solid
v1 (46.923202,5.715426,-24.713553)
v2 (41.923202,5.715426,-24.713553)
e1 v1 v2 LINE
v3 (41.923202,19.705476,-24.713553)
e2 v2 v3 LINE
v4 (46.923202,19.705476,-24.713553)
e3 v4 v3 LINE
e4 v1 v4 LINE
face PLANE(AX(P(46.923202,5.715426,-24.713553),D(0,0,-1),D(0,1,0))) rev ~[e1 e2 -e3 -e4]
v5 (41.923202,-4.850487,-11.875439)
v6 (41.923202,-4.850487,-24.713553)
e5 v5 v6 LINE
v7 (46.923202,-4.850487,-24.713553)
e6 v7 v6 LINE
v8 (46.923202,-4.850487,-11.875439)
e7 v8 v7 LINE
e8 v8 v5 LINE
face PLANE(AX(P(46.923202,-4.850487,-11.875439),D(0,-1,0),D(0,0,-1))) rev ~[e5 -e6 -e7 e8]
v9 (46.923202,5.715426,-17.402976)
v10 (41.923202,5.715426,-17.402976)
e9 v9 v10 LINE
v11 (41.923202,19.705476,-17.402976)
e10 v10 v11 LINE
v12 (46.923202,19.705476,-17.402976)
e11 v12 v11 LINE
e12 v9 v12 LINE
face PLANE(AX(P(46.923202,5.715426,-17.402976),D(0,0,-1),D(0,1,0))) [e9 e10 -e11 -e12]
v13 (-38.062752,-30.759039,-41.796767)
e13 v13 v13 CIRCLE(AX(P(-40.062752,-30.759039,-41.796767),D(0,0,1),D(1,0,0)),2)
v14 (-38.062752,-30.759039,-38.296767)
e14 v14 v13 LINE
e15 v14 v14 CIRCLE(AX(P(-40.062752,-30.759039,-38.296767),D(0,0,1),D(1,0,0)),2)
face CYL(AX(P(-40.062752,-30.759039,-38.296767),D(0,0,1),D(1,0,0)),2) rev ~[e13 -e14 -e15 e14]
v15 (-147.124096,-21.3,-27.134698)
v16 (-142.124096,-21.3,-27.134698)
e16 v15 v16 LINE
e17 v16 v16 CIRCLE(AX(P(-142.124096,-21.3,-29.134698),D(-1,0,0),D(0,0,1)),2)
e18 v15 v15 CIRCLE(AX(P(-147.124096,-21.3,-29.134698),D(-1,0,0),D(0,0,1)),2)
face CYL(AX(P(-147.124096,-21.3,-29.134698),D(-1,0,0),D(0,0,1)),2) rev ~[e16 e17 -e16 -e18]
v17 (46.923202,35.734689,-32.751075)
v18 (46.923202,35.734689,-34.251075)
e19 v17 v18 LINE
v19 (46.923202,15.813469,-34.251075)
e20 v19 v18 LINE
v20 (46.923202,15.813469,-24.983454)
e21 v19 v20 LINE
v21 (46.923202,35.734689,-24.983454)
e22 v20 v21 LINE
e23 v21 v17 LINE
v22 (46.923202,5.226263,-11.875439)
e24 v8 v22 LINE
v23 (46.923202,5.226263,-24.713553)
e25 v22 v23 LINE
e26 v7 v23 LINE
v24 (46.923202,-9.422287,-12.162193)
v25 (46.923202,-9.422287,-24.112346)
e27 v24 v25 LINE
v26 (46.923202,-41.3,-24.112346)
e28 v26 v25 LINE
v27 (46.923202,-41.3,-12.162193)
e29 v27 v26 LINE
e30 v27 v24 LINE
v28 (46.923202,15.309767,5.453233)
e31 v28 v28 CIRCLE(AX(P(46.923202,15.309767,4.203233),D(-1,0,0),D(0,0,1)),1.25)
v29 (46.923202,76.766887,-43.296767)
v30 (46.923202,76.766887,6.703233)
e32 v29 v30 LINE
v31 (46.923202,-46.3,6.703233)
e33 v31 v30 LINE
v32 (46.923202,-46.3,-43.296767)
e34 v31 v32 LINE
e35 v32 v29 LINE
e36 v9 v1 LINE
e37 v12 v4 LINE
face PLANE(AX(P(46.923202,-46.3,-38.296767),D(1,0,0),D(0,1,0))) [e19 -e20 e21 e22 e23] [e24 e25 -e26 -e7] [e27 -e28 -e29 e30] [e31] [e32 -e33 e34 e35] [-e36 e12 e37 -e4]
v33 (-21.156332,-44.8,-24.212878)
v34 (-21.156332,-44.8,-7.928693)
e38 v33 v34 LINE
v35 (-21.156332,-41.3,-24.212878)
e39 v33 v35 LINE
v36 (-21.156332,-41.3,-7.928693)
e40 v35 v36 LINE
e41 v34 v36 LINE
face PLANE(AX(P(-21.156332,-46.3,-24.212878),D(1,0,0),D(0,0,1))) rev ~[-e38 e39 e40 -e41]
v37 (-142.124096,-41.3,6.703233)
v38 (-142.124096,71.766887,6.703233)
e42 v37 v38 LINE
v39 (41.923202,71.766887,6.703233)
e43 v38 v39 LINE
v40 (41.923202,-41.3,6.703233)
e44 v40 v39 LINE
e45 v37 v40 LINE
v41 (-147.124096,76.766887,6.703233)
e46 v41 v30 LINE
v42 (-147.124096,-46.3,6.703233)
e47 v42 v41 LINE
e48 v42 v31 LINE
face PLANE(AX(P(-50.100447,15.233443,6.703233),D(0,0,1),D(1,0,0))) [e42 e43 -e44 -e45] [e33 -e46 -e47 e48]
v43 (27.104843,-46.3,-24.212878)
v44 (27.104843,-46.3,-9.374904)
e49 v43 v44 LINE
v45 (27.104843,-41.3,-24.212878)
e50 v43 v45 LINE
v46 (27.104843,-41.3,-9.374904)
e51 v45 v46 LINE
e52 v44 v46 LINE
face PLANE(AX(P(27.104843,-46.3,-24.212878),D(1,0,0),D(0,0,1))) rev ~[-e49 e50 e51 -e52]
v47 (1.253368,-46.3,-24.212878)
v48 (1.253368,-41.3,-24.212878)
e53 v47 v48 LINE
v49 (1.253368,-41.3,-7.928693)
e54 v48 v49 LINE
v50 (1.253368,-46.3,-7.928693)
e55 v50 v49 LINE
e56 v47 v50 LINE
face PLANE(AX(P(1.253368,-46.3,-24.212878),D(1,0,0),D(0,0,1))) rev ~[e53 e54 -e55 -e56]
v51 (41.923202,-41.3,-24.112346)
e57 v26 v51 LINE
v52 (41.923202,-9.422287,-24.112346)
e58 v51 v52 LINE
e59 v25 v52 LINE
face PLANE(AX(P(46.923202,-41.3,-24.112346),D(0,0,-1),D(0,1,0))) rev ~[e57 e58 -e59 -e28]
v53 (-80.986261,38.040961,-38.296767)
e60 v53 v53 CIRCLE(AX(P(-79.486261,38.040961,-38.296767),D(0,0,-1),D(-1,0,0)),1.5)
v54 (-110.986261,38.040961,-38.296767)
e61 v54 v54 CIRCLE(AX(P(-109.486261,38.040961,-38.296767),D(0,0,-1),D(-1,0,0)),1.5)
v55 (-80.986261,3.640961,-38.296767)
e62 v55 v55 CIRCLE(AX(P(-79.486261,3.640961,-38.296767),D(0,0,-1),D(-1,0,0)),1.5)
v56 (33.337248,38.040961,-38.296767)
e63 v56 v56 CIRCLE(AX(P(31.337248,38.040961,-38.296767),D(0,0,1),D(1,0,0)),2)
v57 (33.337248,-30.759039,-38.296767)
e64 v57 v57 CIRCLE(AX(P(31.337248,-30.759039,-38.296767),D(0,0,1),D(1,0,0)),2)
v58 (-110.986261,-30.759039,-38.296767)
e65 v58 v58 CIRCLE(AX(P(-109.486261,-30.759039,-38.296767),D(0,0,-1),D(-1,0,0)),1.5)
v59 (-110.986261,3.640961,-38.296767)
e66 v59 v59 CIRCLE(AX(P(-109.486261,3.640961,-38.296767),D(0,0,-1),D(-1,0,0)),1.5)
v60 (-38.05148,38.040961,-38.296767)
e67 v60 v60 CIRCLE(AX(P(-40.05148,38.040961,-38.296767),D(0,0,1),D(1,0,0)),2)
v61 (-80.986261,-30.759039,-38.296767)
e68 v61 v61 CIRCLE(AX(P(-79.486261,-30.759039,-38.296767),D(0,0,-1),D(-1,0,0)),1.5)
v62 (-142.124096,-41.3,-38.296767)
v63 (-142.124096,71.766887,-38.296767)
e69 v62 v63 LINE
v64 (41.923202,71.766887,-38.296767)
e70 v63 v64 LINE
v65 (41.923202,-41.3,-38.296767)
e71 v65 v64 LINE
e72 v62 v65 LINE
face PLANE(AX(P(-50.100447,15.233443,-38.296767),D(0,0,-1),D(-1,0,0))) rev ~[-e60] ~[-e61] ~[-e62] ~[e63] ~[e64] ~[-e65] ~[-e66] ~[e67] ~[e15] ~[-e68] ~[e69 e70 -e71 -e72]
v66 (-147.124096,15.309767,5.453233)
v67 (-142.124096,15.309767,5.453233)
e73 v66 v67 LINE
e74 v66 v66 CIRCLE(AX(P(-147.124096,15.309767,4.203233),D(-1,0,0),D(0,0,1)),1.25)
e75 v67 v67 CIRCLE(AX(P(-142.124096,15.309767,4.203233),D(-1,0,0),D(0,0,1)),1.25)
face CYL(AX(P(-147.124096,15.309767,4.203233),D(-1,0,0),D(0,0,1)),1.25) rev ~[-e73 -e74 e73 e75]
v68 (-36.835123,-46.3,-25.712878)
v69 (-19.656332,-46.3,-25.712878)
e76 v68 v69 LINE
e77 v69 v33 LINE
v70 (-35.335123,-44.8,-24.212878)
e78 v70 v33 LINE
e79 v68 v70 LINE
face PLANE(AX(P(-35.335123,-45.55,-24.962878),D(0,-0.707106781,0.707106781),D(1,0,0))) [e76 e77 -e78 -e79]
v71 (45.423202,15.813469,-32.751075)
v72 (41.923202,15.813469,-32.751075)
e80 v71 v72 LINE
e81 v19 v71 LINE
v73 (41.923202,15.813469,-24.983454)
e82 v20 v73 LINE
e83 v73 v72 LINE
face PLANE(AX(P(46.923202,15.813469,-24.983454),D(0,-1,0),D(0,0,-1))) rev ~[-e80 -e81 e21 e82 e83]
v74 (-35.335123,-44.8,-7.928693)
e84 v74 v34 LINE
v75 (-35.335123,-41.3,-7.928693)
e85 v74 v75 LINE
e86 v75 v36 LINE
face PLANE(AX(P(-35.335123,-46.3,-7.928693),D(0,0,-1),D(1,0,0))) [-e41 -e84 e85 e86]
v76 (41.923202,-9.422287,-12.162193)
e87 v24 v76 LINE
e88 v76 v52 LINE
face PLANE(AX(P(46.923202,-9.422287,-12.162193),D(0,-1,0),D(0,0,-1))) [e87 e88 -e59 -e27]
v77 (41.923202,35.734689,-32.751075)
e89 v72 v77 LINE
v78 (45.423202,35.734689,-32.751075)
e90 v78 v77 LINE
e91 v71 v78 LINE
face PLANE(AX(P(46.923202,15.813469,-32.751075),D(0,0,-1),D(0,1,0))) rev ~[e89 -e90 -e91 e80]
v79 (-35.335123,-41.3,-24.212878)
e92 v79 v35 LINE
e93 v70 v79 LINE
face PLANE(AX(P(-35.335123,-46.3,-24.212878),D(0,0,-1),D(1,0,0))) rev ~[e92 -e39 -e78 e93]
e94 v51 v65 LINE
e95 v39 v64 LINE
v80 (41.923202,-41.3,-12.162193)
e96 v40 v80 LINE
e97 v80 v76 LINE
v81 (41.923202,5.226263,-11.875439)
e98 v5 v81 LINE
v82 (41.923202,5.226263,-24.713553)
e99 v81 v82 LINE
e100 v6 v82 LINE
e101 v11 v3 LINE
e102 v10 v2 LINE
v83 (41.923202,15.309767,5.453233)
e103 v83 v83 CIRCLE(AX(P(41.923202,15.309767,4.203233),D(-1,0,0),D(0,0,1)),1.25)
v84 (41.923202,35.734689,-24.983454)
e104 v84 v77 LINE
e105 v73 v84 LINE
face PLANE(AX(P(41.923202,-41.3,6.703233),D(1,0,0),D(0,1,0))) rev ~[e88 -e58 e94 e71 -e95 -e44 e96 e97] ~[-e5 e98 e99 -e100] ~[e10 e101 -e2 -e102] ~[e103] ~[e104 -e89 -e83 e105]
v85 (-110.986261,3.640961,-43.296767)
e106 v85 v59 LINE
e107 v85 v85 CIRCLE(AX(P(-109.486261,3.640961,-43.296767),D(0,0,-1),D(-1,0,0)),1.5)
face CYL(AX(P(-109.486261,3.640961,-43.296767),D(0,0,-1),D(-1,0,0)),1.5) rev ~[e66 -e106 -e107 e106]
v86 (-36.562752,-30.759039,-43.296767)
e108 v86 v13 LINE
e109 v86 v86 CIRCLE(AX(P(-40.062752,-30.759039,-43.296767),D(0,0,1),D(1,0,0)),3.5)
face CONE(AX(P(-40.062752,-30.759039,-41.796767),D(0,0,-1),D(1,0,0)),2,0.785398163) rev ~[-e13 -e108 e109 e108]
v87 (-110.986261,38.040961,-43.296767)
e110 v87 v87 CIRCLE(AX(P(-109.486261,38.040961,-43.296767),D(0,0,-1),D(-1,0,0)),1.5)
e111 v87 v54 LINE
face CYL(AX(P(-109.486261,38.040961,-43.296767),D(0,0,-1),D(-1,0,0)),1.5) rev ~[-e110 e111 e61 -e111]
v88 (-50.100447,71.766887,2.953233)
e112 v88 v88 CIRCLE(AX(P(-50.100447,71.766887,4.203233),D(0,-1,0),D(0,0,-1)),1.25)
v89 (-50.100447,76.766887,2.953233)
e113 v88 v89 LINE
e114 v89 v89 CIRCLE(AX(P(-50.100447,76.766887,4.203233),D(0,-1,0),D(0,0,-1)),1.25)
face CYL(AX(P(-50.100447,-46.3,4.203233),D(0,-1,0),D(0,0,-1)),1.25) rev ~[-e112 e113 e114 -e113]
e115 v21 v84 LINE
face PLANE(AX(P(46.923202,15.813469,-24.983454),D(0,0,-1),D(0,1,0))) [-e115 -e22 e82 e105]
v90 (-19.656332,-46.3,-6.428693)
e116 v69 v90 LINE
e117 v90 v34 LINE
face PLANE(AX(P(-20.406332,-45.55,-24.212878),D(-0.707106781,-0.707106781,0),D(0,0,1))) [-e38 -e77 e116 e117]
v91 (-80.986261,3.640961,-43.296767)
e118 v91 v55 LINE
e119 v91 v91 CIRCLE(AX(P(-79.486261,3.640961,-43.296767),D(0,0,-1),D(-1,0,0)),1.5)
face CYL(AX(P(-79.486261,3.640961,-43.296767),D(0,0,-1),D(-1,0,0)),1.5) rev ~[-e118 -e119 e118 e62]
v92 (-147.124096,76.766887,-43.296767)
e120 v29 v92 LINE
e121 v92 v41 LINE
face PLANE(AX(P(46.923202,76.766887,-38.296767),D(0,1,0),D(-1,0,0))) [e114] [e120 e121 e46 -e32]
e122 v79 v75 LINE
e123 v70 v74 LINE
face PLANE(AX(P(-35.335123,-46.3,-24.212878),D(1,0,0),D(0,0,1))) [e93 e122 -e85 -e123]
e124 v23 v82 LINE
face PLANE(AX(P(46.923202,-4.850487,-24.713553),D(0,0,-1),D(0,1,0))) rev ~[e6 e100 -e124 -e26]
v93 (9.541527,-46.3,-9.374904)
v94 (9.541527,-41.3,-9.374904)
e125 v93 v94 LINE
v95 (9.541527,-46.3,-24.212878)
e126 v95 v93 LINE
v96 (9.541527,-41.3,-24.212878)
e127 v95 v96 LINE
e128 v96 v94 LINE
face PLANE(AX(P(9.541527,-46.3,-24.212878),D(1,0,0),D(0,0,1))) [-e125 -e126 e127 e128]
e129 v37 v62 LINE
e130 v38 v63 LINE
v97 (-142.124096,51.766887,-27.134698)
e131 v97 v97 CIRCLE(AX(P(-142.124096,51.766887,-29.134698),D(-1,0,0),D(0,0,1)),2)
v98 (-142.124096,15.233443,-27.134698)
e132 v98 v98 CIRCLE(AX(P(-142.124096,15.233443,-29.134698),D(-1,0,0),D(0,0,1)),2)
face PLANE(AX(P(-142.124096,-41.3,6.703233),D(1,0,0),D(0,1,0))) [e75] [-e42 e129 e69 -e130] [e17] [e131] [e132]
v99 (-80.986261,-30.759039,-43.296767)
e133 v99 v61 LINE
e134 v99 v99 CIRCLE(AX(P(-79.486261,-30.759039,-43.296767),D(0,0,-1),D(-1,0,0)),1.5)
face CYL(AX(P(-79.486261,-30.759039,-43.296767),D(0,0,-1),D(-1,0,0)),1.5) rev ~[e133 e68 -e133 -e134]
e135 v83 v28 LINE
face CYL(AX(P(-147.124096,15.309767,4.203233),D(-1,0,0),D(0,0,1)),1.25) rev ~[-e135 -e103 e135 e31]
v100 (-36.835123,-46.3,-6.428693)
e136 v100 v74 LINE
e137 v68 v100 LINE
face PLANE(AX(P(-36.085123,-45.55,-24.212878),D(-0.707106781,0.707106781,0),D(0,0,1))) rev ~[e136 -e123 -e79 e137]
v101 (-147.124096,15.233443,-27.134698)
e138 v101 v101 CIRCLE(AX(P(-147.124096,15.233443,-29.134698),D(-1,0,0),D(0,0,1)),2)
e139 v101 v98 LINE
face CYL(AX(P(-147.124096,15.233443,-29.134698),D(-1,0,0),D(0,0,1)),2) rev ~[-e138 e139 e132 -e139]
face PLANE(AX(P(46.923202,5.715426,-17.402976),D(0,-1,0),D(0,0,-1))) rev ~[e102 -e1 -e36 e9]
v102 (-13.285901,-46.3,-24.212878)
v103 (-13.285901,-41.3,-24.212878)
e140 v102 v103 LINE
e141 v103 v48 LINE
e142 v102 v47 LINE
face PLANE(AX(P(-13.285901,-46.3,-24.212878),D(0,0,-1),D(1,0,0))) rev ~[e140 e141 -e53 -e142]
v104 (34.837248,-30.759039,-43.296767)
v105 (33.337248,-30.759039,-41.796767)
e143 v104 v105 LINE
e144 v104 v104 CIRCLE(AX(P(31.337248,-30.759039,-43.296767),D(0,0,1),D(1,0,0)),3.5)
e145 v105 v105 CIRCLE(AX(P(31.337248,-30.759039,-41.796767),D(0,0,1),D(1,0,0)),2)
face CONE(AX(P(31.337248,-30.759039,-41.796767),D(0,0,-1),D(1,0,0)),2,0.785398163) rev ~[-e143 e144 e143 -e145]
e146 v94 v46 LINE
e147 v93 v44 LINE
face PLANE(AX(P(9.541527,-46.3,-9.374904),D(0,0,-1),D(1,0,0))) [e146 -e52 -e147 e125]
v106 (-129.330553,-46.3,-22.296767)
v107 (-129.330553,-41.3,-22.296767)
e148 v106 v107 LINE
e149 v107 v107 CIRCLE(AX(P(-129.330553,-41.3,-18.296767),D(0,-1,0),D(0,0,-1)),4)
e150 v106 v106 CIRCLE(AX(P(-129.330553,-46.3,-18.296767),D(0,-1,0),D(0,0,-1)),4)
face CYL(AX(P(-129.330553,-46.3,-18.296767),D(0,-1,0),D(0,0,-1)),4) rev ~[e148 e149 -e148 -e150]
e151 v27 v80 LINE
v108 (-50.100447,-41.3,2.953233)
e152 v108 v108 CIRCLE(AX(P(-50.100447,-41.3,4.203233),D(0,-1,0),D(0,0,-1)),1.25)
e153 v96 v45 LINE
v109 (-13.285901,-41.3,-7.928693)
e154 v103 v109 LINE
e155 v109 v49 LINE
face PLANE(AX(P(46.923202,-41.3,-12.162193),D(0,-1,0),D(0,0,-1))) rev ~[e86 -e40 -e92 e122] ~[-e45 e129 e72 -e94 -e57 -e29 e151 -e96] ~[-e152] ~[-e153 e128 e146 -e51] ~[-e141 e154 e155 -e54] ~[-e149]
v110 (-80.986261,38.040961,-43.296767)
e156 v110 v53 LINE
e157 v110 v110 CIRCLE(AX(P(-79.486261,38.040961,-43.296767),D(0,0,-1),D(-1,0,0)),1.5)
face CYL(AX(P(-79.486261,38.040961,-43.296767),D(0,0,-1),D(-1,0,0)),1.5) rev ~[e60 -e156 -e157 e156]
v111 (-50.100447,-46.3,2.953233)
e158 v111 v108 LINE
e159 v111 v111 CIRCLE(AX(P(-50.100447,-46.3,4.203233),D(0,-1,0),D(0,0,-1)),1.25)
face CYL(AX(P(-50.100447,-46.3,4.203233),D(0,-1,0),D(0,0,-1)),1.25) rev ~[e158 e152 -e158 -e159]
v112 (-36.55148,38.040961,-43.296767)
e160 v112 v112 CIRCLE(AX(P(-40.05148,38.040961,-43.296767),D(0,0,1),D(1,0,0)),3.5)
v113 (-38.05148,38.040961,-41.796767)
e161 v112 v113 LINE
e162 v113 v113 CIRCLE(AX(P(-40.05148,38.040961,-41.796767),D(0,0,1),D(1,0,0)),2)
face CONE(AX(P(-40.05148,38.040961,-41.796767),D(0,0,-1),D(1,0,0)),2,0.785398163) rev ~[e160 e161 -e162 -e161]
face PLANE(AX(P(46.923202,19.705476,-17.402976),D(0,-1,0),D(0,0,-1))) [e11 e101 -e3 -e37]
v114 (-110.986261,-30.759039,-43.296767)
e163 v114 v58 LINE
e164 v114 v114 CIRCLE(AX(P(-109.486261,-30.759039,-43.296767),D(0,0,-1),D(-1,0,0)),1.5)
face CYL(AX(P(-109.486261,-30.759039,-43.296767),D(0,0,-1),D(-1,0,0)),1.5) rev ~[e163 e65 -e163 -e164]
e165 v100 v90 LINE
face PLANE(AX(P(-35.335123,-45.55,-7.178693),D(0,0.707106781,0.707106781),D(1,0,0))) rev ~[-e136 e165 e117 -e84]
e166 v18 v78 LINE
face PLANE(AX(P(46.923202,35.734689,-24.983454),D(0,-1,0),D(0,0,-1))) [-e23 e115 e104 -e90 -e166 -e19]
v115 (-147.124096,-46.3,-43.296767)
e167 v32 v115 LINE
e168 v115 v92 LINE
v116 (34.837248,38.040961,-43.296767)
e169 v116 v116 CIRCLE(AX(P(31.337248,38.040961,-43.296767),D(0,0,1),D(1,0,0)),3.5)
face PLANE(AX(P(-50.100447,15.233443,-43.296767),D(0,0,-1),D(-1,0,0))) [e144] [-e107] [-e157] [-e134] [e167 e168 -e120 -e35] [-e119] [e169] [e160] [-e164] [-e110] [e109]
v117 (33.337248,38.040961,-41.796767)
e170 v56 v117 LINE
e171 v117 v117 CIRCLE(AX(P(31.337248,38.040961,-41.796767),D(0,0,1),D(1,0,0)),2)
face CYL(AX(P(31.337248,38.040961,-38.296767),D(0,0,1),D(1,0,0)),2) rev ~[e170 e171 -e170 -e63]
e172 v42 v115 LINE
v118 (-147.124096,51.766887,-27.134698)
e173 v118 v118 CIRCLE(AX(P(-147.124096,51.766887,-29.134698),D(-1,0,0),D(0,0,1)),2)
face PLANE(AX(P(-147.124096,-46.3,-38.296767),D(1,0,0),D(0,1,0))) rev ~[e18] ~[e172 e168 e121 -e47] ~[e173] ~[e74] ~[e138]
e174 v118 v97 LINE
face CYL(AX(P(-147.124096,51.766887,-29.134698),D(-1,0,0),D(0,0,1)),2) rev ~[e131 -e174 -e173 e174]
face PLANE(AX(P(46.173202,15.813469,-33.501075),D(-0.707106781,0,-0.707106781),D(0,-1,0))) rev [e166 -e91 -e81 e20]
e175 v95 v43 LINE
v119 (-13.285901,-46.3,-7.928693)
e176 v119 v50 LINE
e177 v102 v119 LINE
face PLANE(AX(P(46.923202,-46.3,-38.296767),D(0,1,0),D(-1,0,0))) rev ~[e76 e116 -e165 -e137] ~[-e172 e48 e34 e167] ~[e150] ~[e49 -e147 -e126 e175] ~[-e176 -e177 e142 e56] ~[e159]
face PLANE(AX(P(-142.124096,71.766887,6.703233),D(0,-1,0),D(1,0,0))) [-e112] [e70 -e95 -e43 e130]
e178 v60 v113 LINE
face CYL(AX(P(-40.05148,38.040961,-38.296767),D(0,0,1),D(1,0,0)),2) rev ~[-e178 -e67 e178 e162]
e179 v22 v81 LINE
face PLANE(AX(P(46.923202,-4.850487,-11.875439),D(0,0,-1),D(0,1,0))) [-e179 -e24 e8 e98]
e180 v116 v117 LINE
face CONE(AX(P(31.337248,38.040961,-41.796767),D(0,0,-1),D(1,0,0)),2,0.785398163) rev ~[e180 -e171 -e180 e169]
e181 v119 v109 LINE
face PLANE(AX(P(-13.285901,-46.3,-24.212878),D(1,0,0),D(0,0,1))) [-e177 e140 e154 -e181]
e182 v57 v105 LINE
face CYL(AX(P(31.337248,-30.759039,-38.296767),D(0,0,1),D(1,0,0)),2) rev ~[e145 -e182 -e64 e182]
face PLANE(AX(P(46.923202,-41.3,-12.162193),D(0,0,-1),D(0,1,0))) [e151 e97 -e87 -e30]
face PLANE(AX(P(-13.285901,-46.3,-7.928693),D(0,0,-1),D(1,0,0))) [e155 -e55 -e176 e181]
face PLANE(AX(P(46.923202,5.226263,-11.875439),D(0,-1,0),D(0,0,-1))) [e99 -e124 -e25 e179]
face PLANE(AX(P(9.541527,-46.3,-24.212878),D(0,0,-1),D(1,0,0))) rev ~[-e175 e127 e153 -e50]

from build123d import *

# Parameters (mm, degrees)
SCHIZZO2_W                   = 194.047297703
SCHIZZO2_H                   = 123.066886556
SCHIZZO2_W_2                 = 184.047297703
SCHIZZO2_H_2                 = 113.066886556
ESTRUSIONE_SOTTILE1_DEPTH    = 45
SCHIZZO3_W                   = 194.047297703
SCHIZZO3_H                   = 123.066886556
ESTRUSIONE_ESTRUSIONE1_DEPTH = 5
SCHIZZO4_R                   = 2
TAGLIO_ESTRUSIONE1_DEPTH     = 5
SMUSSO1_SIZE                 = 1.5
SMUSSO2_SIZE                 = 1.5
SMUSSO3_SIZE                 = 1.5
SMUSSO4_SIZE                 = 1.5
SCHIZZO5_W                   = 7.767621353
SCHIZZO5_H                   = 19.92122066
SCHIZZO5_W_2                 = 7.310576499
SCHIZZO5_H_2                 = 13.99005078
SCHIZZO5_W_3                 = 12.838114045
SCHIZZO5_H_3                 = 10.076749863
SCHIZZO5_W_4                 = 11.950153196
SCHIZZO5_H_4                 = 31.877712984
TAGLIO_ESTRUSIONE2_DEPTH     = 5
SCHIZZO6_W                   = 17.563316518
SCHIZZO6_H                   = 14.837974299
SCHIZZO6_W_2                 = 14.53926904
SCHIZZO6_H_2                 = 16.284185158
SCHIZZO6_W_3                 = 14.178791295
TAGLIO_ESTRUSIONE3_DEPTH     = 5
SMUSSO5_SIZE                 = 1.5
SMUSSO6_SIZE                 = 1.5
SCHIZZO7_R                   = 2
TAGLIO_ESTRUSIONE4_DEPTH     = 5
TAGLIO_ESTRUSIONE5_REACH     = 215.125
SCHIZZO8_R                   = 1.25
TAGLIO_ESTRUSIONE6_REACH     = 198.636
SCHIZZO9_R                   = 1.25
SCHIZZO10_R                  = 1.5
TAGLIO_ESTRUSIONE7_DEPTH     = 10
SCHIZZO11_R                  = 4
TAGLIO_ESTRUSIONE8_DEPTH     = 10


with BuildPart() as part:
    # Schizzo2 → Estrusione-Sottile1 (new body)
    with BuildSketch(Plane.XY.offset(6.703232706)):
        with Locations((-50.100447002, 15.233443278)):
            Rectangle(SCHIZZO2_W, SCHIZZO2_H)
        with Locations((-50.100447002, 15.233443278)):
            Rectangle(SCHIZZO2_W_2, SCHIZZO2_H_2, mode=Mode.SUBTRACT)
    extrude(amount=-ESTRUSIONE_SOTTILE1_DEPTH)

    # Schizzo3 → Estrusione-Estrusione1 (add)
    with BuildSketch(Plane(origin=(0, 0, -38.296767294), x_dir=(-1, 0, 0), z_dir=(0, 0, -1))):
        with Locations((50.100447002, 15.233443278)):
            Rectangle(SCHIZZO3_W, SCHIZZO3_H)
    extrude(amount=ESTRUSIONE_ESTRUSIONE1_DEPTH)

    # Schizzo4 → Taglio-Estrusione1 (cut)
    with BuildSketch(Plane.XY.offset(-38.296767294)):
        with Locations((-40.051479808, 38.040961433)):
            Circle(SCHIZZO4_R)
        with Locations((-40.062752428, -30.759038567)):
            Circle(SCHIZZO4_R)
        with Locations((31.337247572, 38.040961433)):
            Circle(SCHIZZO4_R)
        with Locations((31.337247572, -30.759038567)):
            Circle(SCHIZZO4_R)
    extrude(amount=-TAGLIO_ESTRUSIONE1_DEPTH, mode=Mode.SUBTRACT)

    # Smusso1
    smusso1_edges = [part.edges().sort_by_distance(p)[0] for p in [
        (-42.051479808, 38.040961433, -43.296767294),
    ]]
    chamfer(smusso1_edges, length=SMUSSO1_SIZE)

    # Smusso2
    smusso2_edges = [part.edges().sort_by_distance(p)[0] for p in [
        (29.337247572, 38.040961433, -43.296767294),
    ]]
    chamfer(smusso2_edges, length=SMUSSO2_SIZE)

    # Smusso3
    smusso3_edges = [part.edges().sort_by_distance(p)[0] for p in [
        (29.337247572, -30.759038567, -43.296767294),
    ]]
    chamfer(smusso3_edges, length=SMUSSO3_SIZE)

    # Smusso4
    smusso4_edges = [part.edges().sort_by_distance(p)[0] for p in [
        (-42.062752428, -30.759038567, -43.296767294),
    ]]
    chamfer(smusso4_edges, length=SMUSSO4_SIZE)

    # Schizzo5 → Taglio-Estrusione2 (cut)
    with BuildSketch(Plane(origin=(46.92320185, 0, 0), x_dir=(0, 0, -1), z_dir=(1, 0, 0))):
        with Locations((28.867264407, 25.774079034)):
            Rectangle(SCHIZZO5_W, SCHIZZO5_H)
        with Locations((21.058264637, 12.710451031)):
            Rectangle(SCHIZZO5_W_2, SCHIZZO5_H_2)
        with Locations((18.294495864, 0.187888095)):
            Rectangle(SCHIZZO5_W_3, SCHIZZO5_H_3)
        with Locations((18.13726933, -25.361143508)):
            Rectangle(SCHIZZO5_W_4, SCHIZZO5_H_4)
    extrude(amount=-TAGLIO_ESTRUSIONE2_DEPTH, mode=Mode.SUBTRACT)

    # Schizzo6 → Taglio-Estrusione3 (cut)
    with BuildSketch(Plane.XZ.offset(46.3)):
        with Locations((18.323185023, -16.793891295)):
            Rectangle(SCHIZZO6_W, SCHIZZO6_H)
        with Locations((-6.016266439, -16.070785866)):
            Rectangle(SCHIZZO6_W_2, SCHIZZO6_H_2)
        with Locations((-28.245727369, -16.070785866)):
            Rectangle(SCHIZZO6_W_3, SCHIZZO6_H_2)
    extrude(amount=-TAGLIO_ESTRUSIONE3_DEPTH, mode=Mode.SUBTRACT)

    # Smusso5
    smusso5_edges = [part.edges().sort_by_distance(p)[0] for p in [
        (-35.335123016, -46.3, -16.070785866),
        (-28.245727368, -46.3, -24.212878445),
        (-21.156331721, -46.3, -16.070785866),
        (-28.245727368, -46.3, -7.928693287),
    ]]
    chamfer(smusso5_edges, length=SMUSSO5_SIZE)

    # Smusso6
    smusso6_edges = [part.edges().sort_by_distance(p)[0] for p in [
        (46.92320185, 25.774079034, -32.751075083),
    ]]
    chamfer(smusso6_edges, length=SMUSSO6_SIZE)

    # Schizzo7 → Taglio-Estrusione4 (cut)
    with BuildSketch(Plane.ZY.offset(147.124095853)):
        with Locations((-29.134697753, 51.766886556)):
            Circle(SCHIZZO7_R)
        with Locations((-29.134697753, 15.233443278)):
            Circle(SCHIZZO7_R)
        with Locations((-29.134697753, -21.3)):
            Circle(SCHIZZO7_R)
    extrude(amount=-TAGLIO_ESTRUSIONE4_DEPTH, mode=Mode.SUBTRACT)

    # Schizzo8 → Taglio-Estrusione5 (cut, up to next)
    with BuildSketch(Plane.ZY.offset(147.124095853), mode=Mode.PRIVATE) as taglio_estrusione5_sk1:
        with Locations((4.203232706, 15.309766732)):
            Circle(SCHIZZO8_R)
    taglio_estrusione5_tool1 = extrude(taglio_estrusione5_sk1.sketch, amount=-TAGLIO_ESTRUSIONE5_REACH, mode=Mode.PRIVATE) & part.part
    add(taglio_estrusione5_tool1.solids().sort_by_distance((-147.124096, 15.309767, 4.203233))[0], mode=Mode.SUBTRACT)
    add(taglio_estrusione5_tool1.solids().sort_by_distance((-147.124096, 15.309767, 4.203233))[1], mode=Mode.SUBTRACT)

    # Schizzo9 → Taglio-Estrusione6 (cut, up to next)
    with BuildSketch(Plane.XZ.offset(46.3), mode=Mode.PRIVATE) as taglio_estrusione6_sk1:
        with Locations(Location((-50.100447002, 4.203232706, 0), (0, 0, 270))):
            Circle(SCHIZZO9_R)
    taglio_estrusione6_tool1 = extrude(taglio_estrusione6_sk1.sketch, amount=-TAGLIO_ESTRUSIONE6_REACH, mode=Mode.PRIVATE) & part.part
    add(taglio_estrusione6_tool1.solids().sort_by_distance((-50.100447, -46.3, 4.203233))[0], mode=Mode.SUBTRACT)
    add(taglio_estrusione6_tool1.solids().sort_by_distance((-50.100447, -46.3, 4.203233))[1], mode=Mode.SUBTRACT)

    # Schizzo10 → Taglio-Estrusione7 (cut)
    with BuildSketch(Plane(origin=(0, 0, -43.296767294), x_dir=(-1, 0, 0), z_dir=(0, 0, -1))):
        with Locations((79.486260937, 38.040961433)):
            Circle(SCHIZZO10_R)
        with Locations((109.486260937, 38.040961433)):
            Circle(SCHIZZO10_R)
        with Locations((109.486260937, -30.759038567)):
            Circle(SCHIZZO10_R)
        with Locations((79.486260937, -30.759038567)):
            Circle(SCHIZZO10_R)
        with Locations((109.486260937, 3.640961433)):
            Circle(SCHIZZO10_R)
        with Locations((79.486260937, 3.640961433)):
            Circle(SCHIZZO10_R)
    extrude(amount=-TAGLIO_ESTRUSIONE7_DEPTH, mode=Mode.SUBTRACT)

    # Schizzo11 → Taglio-Estrusione8 (cut)
    with BuildSketch(Plane.XZ.offset(46.3)):
        with Locations(Location((-129.330552929, -18.296767294, 0), (0, 0, 270))):
            Circle(SCHIZZO11_R)
    extrude(amount=-TAGLIO_ESTRUSIONE8_DEPTH, mode=Mode.SUBTRACT)


solid = part.part
